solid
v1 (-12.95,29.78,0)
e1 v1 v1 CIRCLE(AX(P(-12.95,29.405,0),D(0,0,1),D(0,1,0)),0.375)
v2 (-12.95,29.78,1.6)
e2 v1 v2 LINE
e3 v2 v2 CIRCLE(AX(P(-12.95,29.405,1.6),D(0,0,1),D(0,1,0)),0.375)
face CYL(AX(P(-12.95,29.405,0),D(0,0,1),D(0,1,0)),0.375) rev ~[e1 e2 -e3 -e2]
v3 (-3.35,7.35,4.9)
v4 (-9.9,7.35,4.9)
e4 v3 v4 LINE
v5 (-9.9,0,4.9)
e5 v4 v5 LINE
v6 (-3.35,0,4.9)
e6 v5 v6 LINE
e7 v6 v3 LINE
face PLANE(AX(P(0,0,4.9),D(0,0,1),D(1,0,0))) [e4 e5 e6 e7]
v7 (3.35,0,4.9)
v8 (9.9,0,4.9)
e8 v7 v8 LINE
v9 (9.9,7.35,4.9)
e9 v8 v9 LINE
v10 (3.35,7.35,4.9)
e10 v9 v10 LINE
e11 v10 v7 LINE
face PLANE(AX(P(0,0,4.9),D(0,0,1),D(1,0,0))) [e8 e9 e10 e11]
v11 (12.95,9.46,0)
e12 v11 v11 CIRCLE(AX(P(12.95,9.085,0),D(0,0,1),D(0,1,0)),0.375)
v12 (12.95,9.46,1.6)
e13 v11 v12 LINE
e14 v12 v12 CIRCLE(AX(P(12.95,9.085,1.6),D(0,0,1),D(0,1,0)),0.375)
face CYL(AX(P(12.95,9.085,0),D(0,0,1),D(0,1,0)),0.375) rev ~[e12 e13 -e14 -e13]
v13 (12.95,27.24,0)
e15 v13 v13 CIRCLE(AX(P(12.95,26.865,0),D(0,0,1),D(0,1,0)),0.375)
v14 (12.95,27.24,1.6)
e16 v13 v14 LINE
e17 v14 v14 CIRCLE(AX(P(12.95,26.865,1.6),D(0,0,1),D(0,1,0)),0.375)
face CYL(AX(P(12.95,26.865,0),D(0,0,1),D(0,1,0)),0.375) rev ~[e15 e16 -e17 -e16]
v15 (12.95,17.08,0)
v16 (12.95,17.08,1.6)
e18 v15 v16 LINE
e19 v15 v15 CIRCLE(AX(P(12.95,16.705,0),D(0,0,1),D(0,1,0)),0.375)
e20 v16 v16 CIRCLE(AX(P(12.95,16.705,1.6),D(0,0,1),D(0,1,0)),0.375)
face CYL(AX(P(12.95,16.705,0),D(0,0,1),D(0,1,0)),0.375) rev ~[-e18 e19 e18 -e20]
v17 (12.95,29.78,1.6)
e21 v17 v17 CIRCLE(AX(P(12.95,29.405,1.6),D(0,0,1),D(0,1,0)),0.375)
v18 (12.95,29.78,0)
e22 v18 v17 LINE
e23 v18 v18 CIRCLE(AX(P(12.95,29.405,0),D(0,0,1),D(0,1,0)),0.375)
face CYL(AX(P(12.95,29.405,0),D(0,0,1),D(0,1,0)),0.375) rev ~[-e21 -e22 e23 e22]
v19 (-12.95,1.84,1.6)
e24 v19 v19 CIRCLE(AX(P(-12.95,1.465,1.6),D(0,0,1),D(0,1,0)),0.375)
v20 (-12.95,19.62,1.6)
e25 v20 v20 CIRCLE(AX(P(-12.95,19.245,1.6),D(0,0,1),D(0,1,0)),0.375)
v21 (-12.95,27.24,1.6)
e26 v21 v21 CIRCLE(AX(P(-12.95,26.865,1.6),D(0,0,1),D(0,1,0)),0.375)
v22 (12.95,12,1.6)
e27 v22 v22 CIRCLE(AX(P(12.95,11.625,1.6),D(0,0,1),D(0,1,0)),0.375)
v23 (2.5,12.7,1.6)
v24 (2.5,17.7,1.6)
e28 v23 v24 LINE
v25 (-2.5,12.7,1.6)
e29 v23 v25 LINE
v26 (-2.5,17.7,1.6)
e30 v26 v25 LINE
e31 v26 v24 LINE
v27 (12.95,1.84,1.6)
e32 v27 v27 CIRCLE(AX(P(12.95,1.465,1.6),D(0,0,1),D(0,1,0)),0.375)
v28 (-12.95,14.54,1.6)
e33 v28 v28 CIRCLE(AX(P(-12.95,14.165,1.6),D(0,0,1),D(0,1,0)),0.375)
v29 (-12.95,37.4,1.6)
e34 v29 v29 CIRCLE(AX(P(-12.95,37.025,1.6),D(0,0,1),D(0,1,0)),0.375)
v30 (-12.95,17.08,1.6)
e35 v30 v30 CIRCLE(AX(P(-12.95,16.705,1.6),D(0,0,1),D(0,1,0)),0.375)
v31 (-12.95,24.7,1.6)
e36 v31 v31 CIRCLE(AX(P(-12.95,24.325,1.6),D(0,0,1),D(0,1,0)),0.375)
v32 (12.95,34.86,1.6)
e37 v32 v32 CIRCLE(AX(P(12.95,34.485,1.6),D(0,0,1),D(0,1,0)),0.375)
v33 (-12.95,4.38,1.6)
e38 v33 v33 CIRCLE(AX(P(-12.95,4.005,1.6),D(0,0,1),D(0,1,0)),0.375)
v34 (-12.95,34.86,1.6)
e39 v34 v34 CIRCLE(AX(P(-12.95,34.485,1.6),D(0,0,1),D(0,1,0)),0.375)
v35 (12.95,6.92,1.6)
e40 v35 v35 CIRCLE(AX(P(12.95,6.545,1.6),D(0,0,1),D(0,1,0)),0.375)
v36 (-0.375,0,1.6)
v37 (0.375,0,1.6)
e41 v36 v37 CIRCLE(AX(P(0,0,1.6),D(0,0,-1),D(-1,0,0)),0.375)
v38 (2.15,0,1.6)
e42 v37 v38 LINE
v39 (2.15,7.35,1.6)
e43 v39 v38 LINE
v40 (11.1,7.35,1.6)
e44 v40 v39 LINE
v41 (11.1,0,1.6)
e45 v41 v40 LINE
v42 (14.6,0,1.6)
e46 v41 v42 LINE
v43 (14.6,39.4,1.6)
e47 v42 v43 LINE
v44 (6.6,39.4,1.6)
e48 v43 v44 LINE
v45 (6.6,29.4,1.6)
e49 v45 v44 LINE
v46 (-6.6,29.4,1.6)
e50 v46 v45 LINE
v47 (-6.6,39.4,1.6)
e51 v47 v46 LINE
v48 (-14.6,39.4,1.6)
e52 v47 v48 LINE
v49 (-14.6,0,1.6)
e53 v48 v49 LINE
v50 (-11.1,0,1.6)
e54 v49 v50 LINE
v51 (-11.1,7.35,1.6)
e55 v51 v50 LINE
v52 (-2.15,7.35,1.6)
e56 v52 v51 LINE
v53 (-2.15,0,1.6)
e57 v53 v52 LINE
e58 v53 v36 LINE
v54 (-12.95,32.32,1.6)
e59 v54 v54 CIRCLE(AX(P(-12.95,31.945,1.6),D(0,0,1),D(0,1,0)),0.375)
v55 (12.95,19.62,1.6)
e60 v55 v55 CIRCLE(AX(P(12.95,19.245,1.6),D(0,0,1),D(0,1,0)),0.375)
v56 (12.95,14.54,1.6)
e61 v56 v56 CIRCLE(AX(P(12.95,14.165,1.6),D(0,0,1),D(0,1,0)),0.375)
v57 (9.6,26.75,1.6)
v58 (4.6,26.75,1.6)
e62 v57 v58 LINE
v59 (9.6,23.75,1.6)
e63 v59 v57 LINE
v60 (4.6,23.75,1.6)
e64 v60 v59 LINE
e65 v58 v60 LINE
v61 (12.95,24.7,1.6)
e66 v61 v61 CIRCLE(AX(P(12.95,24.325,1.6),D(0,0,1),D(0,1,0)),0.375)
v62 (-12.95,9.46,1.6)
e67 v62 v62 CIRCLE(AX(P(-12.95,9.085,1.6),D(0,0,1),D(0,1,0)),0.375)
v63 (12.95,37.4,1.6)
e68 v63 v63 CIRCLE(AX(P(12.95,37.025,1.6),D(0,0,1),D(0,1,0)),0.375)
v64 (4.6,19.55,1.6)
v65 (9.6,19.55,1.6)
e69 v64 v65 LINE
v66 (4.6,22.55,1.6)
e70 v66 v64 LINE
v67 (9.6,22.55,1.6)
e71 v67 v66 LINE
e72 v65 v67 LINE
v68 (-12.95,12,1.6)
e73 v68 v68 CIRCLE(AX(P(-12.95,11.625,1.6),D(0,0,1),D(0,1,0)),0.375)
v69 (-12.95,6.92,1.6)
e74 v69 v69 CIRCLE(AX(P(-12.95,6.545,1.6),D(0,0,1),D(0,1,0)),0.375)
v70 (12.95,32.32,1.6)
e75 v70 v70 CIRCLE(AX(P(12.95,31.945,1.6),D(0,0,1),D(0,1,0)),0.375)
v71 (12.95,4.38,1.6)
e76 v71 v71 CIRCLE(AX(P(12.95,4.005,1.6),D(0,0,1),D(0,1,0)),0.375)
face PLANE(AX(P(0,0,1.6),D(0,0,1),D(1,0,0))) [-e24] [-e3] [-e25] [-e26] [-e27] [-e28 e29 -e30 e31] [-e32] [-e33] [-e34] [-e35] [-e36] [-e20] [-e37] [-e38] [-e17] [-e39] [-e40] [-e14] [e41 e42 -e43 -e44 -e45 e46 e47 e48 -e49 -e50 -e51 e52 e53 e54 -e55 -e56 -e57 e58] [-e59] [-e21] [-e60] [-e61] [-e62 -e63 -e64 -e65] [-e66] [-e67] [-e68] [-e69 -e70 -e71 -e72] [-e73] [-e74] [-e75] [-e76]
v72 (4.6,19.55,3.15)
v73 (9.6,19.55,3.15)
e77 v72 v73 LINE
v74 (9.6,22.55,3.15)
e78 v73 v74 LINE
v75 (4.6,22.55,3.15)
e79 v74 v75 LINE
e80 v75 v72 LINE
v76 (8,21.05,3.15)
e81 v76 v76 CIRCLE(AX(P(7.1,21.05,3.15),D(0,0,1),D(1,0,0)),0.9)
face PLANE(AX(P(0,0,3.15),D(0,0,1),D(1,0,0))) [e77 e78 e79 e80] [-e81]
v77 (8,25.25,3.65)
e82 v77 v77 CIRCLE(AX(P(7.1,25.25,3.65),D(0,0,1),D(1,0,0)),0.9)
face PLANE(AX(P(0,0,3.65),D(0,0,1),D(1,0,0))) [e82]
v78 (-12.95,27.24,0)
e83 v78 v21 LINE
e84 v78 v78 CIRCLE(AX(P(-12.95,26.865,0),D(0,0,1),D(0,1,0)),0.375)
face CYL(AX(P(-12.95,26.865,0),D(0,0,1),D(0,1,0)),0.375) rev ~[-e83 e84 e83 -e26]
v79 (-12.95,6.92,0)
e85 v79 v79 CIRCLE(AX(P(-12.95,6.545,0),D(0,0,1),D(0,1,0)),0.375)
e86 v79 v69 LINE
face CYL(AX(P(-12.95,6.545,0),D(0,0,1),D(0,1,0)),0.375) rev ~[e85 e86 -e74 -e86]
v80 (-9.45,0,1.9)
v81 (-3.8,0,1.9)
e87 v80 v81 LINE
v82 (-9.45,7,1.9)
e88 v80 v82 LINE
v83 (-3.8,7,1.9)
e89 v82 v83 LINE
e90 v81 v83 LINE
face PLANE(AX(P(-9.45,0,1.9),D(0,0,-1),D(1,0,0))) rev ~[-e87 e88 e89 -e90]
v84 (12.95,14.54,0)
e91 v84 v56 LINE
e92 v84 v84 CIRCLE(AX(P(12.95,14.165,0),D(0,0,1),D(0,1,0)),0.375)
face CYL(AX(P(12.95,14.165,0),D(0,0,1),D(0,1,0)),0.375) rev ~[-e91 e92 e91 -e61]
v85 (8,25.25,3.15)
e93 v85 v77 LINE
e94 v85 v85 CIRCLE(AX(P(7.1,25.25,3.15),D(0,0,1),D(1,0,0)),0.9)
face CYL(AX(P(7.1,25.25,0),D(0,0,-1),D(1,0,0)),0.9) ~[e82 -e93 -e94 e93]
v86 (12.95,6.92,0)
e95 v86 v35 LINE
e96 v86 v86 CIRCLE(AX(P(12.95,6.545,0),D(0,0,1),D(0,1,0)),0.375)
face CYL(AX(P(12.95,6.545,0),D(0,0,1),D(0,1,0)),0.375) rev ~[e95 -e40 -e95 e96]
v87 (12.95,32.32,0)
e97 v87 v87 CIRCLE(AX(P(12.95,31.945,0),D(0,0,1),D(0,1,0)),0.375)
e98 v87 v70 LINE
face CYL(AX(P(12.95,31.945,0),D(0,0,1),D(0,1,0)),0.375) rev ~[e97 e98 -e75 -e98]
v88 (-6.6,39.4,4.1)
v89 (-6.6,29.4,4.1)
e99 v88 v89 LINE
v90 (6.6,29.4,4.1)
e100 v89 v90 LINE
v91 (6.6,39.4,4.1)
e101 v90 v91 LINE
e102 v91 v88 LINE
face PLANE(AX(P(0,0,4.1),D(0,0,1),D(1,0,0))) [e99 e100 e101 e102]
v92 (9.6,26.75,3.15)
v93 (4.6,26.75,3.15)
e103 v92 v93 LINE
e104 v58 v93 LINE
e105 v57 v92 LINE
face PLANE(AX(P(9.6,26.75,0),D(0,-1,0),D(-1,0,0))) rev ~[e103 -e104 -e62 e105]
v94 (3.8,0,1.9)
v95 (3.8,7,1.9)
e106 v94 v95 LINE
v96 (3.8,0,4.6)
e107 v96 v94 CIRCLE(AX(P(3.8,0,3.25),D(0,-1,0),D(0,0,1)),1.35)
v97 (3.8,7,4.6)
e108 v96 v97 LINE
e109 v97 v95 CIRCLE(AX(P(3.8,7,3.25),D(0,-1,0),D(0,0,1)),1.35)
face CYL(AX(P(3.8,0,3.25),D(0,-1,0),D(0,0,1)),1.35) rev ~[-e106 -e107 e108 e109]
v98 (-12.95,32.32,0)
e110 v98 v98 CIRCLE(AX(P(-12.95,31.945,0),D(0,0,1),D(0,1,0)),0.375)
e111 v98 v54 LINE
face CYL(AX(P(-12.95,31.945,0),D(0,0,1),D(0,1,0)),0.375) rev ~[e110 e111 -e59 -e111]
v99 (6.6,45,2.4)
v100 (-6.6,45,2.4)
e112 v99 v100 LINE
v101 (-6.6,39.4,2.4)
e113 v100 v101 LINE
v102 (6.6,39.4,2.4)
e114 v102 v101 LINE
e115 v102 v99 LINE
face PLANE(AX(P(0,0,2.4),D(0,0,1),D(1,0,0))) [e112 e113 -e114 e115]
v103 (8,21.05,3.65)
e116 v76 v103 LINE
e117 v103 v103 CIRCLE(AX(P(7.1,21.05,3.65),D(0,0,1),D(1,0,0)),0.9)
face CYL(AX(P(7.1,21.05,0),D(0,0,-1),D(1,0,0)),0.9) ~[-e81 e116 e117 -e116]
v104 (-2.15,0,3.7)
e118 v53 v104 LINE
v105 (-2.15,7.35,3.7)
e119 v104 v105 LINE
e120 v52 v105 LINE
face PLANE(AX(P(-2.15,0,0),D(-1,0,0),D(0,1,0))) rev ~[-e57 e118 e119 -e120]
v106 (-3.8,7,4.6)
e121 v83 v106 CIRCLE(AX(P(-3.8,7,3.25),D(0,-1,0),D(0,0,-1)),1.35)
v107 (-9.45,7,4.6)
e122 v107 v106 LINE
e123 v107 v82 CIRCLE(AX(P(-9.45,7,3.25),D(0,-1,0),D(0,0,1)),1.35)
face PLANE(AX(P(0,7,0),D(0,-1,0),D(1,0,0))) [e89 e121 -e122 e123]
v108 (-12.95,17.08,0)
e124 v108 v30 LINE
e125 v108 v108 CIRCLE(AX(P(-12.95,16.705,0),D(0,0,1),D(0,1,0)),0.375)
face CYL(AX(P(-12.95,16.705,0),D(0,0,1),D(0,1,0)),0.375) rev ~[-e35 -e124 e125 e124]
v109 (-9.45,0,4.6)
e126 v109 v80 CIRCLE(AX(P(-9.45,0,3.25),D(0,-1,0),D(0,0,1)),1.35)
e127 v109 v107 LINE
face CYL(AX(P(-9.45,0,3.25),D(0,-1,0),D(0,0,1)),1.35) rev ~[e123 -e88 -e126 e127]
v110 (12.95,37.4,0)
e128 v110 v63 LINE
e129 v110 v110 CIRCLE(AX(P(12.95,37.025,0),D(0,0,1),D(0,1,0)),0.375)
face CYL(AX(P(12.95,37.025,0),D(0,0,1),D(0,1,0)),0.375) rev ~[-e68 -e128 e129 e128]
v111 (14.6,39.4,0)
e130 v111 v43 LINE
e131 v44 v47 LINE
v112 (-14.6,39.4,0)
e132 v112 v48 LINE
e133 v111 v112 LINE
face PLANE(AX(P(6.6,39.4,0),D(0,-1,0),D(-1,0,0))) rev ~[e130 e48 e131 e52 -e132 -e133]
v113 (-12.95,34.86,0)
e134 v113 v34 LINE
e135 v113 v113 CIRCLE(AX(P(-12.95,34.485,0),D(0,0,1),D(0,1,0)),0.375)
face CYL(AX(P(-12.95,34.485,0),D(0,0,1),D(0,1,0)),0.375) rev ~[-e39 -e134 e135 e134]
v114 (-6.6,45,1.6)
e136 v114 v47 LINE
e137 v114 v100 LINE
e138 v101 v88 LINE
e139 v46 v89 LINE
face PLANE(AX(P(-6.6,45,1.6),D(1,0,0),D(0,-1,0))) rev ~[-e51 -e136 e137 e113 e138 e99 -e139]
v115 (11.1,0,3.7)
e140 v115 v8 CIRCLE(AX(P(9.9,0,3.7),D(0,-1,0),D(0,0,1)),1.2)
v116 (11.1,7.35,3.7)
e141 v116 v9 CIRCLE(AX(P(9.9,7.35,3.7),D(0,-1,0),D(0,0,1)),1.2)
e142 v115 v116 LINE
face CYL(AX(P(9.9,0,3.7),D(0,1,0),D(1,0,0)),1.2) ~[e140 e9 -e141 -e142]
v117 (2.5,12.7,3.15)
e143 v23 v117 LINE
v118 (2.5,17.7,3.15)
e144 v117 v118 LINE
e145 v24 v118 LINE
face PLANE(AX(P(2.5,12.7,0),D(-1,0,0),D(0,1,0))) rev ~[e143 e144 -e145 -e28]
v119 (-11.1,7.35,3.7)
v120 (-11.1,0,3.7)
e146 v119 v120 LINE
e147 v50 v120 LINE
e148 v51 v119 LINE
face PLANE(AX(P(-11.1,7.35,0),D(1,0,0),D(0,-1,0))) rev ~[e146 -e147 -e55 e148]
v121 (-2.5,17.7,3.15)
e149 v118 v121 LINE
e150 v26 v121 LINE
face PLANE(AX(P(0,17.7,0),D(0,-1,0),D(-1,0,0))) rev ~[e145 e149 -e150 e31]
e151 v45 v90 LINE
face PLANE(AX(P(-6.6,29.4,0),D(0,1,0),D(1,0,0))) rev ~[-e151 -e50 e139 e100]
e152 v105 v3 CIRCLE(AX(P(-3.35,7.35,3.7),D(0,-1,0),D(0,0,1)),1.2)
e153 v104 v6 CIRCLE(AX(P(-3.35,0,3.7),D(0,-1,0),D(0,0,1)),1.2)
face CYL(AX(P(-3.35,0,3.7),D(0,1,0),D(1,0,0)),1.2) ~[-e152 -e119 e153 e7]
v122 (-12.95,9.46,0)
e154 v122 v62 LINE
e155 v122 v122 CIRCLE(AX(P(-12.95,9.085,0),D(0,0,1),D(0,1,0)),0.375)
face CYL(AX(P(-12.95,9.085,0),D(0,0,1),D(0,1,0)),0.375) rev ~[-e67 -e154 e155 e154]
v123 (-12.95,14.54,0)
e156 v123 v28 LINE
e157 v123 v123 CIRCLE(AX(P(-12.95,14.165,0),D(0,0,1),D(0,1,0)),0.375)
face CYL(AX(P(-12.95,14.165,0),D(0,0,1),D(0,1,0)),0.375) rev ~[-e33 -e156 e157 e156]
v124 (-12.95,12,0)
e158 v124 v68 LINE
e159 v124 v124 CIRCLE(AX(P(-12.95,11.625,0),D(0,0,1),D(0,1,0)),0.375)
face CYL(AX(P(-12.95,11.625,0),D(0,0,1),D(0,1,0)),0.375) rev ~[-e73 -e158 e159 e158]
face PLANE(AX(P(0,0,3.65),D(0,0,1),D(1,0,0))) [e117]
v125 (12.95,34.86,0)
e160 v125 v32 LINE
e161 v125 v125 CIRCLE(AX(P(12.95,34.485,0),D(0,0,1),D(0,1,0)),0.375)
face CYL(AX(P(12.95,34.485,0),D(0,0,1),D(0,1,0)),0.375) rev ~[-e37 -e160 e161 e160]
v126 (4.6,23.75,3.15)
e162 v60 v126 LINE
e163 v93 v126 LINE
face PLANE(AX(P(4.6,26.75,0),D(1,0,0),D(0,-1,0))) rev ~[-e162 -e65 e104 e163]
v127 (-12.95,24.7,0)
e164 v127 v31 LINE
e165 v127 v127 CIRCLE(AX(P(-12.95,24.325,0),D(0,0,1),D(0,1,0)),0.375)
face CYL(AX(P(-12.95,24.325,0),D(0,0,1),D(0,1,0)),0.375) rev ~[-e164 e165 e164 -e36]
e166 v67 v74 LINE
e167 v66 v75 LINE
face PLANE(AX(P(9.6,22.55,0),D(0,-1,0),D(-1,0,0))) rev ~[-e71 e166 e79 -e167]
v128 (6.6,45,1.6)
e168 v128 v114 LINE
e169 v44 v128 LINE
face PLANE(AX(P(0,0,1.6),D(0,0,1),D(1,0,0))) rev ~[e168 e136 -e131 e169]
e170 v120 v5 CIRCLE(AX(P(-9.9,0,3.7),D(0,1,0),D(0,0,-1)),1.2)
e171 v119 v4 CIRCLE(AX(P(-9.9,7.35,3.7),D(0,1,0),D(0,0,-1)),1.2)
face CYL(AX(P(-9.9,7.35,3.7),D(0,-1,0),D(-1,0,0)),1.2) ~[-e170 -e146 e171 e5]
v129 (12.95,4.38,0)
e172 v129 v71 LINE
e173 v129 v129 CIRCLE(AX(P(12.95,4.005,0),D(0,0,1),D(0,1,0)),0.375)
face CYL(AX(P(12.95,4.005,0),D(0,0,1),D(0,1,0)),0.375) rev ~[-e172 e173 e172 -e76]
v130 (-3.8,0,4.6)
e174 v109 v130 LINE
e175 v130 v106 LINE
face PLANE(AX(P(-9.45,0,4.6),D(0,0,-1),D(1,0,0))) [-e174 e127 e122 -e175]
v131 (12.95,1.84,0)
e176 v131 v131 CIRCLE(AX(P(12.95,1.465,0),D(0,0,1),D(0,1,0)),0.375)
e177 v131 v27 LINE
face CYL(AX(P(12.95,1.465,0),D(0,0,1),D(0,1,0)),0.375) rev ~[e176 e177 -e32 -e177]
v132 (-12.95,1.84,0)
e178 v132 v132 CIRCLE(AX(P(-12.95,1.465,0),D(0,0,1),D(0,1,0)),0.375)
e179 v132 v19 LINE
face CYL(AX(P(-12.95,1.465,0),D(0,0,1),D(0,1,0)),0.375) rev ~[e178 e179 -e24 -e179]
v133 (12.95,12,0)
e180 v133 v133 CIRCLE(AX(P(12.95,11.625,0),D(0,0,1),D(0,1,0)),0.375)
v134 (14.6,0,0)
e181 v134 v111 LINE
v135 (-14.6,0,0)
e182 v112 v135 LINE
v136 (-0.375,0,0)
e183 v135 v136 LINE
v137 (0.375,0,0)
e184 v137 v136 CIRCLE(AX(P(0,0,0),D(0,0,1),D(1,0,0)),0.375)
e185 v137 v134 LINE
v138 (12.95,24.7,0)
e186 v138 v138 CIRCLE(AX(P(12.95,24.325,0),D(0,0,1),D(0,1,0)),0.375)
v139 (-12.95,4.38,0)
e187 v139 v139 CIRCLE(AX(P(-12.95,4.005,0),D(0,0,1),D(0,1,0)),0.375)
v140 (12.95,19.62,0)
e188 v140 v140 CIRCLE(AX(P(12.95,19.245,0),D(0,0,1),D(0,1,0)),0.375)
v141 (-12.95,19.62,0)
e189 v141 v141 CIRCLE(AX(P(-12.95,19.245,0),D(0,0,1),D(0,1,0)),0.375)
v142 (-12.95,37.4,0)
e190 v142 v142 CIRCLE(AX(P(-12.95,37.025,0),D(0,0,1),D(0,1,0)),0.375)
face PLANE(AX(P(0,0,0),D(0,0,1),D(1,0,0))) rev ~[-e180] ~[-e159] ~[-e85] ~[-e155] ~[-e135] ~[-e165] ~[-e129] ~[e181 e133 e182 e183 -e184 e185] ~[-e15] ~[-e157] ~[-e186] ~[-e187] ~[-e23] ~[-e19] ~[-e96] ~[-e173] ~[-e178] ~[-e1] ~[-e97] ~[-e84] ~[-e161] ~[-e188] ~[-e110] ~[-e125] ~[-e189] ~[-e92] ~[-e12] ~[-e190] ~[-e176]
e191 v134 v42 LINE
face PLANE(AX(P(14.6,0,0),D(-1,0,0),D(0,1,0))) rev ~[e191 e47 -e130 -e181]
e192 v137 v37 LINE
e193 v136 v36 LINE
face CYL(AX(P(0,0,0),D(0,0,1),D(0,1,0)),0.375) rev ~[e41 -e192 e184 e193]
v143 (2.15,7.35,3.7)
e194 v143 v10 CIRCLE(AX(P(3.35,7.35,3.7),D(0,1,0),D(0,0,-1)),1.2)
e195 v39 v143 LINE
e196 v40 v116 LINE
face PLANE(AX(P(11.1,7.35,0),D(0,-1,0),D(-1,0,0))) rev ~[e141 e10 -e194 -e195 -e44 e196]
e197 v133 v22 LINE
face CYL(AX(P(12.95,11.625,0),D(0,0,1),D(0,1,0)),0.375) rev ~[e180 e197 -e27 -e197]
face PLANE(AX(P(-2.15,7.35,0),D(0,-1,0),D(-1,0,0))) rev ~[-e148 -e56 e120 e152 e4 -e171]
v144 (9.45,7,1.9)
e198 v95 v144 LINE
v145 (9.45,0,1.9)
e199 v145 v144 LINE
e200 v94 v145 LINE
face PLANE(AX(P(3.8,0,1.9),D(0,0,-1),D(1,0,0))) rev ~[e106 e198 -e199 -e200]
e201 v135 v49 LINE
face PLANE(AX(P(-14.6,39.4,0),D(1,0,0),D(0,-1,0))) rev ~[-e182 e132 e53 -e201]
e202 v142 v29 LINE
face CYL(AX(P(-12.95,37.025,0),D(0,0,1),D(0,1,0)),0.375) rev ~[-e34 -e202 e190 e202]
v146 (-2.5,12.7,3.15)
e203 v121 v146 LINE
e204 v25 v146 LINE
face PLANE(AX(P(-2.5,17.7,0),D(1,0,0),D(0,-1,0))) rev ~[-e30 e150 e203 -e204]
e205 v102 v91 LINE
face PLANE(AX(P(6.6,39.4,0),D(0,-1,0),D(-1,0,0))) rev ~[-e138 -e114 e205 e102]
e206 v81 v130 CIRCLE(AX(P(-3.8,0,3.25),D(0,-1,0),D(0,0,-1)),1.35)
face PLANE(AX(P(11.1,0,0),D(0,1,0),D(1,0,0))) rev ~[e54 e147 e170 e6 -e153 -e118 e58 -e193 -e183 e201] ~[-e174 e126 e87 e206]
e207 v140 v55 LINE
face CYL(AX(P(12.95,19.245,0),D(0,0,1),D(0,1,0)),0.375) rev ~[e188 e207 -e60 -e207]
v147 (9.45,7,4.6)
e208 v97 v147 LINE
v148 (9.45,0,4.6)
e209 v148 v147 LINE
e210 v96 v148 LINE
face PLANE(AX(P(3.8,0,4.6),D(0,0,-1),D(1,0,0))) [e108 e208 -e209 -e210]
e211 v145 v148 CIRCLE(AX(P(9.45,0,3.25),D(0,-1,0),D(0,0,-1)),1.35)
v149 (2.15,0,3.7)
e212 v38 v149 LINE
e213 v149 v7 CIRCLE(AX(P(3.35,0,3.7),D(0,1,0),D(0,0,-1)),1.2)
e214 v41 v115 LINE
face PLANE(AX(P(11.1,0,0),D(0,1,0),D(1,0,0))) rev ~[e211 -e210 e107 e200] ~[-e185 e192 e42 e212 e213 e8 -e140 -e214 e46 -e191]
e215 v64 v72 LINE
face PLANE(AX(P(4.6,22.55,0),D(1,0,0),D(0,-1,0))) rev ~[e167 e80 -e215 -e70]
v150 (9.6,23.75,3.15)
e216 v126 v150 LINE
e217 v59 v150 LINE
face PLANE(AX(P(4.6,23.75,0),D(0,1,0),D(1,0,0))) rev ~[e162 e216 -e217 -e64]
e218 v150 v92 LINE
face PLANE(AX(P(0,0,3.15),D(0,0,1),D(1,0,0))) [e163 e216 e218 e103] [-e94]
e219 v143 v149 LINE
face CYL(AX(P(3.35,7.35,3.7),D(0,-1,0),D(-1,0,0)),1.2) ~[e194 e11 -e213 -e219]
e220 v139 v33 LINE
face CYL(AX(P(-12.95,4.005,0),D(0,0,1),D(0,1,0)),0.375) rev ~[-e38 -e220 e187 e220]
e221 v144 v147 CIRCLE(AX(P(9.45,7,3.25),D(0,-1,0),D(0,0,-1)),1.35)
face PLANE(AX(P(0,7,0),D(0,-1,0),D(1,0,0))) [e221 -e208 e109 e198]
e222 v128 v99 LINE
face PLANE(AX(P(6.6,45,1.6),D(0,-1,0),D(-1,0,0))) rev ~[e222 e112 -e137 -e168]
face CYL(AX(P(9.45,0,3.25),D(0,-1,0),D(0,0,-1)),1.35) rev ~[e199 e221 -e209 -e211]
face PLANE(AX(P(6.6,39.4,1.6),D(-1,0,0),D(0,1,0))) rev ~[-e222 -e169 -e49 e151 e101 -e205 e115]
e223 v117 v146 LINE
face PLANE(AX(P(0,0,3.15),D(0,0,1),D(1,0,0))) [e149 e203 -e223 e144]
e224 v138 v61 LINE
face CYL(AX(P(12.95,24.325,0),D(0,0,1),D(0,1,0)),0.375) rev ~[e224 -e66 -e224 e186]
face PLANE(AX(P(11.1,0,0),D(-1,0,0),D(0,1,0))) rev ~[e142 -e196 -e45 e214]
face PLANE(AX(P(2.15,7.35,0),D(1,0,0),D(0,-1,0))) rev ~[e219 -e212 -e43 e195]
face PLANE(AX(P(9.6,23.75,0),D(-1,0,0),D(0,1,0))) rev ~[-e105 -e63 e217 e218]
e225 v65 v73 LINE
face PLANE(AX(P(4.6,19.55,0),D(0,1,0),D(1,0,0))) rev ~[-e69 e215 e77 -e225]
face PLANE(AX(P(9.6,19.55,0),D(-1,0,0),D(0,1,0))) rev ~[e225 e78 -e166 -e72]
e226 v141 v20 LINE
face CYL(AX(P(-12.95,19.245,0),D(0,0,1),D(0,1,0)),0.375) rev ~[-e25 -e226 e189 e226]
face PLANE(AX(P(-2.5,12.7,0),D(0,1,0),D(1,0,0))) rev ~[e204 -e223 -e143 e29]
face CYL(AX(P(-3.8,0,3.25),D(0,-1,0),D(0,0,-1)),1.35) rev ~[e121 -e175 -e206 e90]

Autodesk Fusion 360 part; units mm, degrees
sketch "Sketch1" plane through (0, 0, 0) normal (0, 0, 1) x (1, 0, 0) in component "esp32-c3-devkitm-1"
  line L0 (14.6, 39.4) -> (-14.6, 39.4)
  line L1 (-14.6, 39.4) -> (-14.6, 0)
  line L2 (-14.6, 0) -> (14.6, 0)
  line L3 (14.6, 0) -> (14.6, 39.4)
  line L4 (14.6, 39.4) -> (-14.6, 0) construction
  line L5 (-14.6, 39.4) -> (14.6, 0) construction
  line L6 (0, 1.75) -> (0, 22.5)
  line L7 (1.75, 0) -> (22.5, 0)
  line L8 (6.6, 39.4) -> (-6.6, 39.4)
  line L9 (-6.6, 39.4) -> (-6.6, 29.4)
  line L10 (-6.6, 29.4) -> (6.6, 29.4)
  line L11 (6.6, 29.4) -> (6.6, 39.4)
  line L12 (6.6, 39.4) -> (-6.6, 29.4) construction
  line L13 (-6.6, 39.4) -> (6.6, 29.4) construction
  line L14 (6.6, 45) -> (-6.6, 45)
  line L15 (-6.6, 45) -> (-6.6, 39.4)
  line L16 (-6.6, 39.4) -> (6.6, 39.4)
  line L17 (6.6, 39.4) -> (6.6, 45)
  line L18 (6.6, 45) -> (-6.6, 39.4) construction
  line L19 (-6.6, 45) -> (6.6, 39.4) construction
  line L20 (-2.15, 7.35) -> (-11.1, 7.35)
  line L21 (-11.1, 7.35) -> (-11.1, 0)
  line L22 (-11.1, 0) -> (-2.15, 0)
  line L23 (-2.15, 0) -> (-2.15, 7.35)
  line L24 (-2.15, 7.35) -> (-11.1, 0) construction
  line L25 (-11.1, 7.35) -> (-2.15, 0) construction
  line L26 (11.1, 7.35) -> (2.15, 7.35)
  line L27 (2.15, 7.35) -> (2.15, 0)
  line L28 (2.15, 0) -> (11.1, 0)
  line L29 (11.1, 0) -> (11.1, 7.35)
  line L30 (11.1, 7.35) -> (2.15, 0) construction
  line L31 (2.15, 7.35) -> (11.1, 0) construction
  line L32 (2.5, 17.7) -> (-2.5, 17.7)
  line L33 (-2.5, 17.7) -> (-2.5, 12.7)
  line L34 (-2.5, 12.7) -> (2.5, 12.7)
  line L35 (2.5, 12.7) -> (2.5, 17.7)
  line L36 (2.5, 17.7) -> (-2.5, 12.7) construction
  line L37 (-2.5, 17.7) -> (2.5, 12.7) construction
  line L38 (9.6, 26.75) -> (4.6, 26.75)
  line L39 (4.6, 26.75) -> (4.6, 23.75)
  line L40 (4.6, 23.75) -> (9.6, 23.75)
  line L41 (9.6, 23.75) -> (9.6, 26.75)
  line L42 (9.6, 26.75) -> (4.6, 23.75) construction
  line L43 (4.6, 26.75) -> (9.6, 23.75) construction
  line L44 (9.6, 22.55) -> (4.6, 22.55)
  line L45 (4.6, 22.55) -> (4.6, 19.55)
  line L46 (4.6, 19.55) -> (9.6, 19.55)
  line L47 (9.6, 19.55) -> (9.6, 22.55)
  line L48 (9.6, 22.55) -> (4.6, 19.55) construction
  line L49 (4.6, 22.55) -> (9.6, 19.55) construction
  circle A0 centre (7.1, 25.25) radius 0.9
  circle A1 centre (7.1, 21.05) radius 0.9
  circle A2 centre (12.95, 37.025) radius 0.5
  circle A3 centre (-12.95, 37.025) radius 0.5
  circle A4 centre (12.95, 34.485) radius 0.5
  circle A5 centre (-12.95, 34.485) radius 0.5
  circle A6 centre (12.95, 31.945) radius 0.5
  circle A7 centre (-12.95, 31.945) radius 0.5
  circle A8 centre (12.95, 29.405) radius 0.5
  circle A9 centre (-12.95, 29.405) radius 0.5
  circle A10 centre (12.95, 26.865) radius 0.5
  circle A11 centre (-12.95, 26.865) radius 0.5
  circle A12 centre (12.95, 24.325) radius 0.5
  circle A13 centre (-12.95, 24.325) radius 0.5
  circle A14 centre (12.95, 21.785) radius 0.5
  circle A15 centre (-12.95, 21.785) radius 0.5
  circle A16 centre (12.95, 19.245) radius 0.5
  circle A17 centre (-12.95, 19.245) radius 0.5
  circle A18 centre (12.95, 16.705) radius 0.5
  circle A19 centre (-12.95, 16.705) radius 0.5
  circle A20 centre (12.95, 14.165) radius 0.5
  circle A21 centre (-12.95, 14.165) radius 0.5
  circle A22 centre (12.95, 11.625) radius 0.5
  circle A23 centre (-12.95, 11.625) radius 0.5
  circle A24 centre (12.95, 9.085) radius 0.5
  circle A25 centre (-12.95, 9.085) radius 0.5
  circle A26 centre (12.95, 6.545) radius 0.5
  circle A27 centre (-12.95, 6.545) radius 0.5
  circle A28 centre (12.95, 4.005) radius 0.5
  circle A29 centre (-12.95, 4.005) radius 0.5
  circle A30 centre (12.95, 1.465) radius 0.5
  circle A31 centre (-12.95, 1.465) radius 0.5
  point P0 (0, 19.7)
  point P1 (0, 34.4)
  point P2 (0, 42.2)
  point P3 (-6.625, 3.675)
  point P4 (6.625, 3.675)
  point P5 (0, 15.2)
  point P6 (7.1, 25.25)
  point P7 (7.1, 21.05)
  dimension "d22" = 29.2
  dimension "d23" = 39.4
  dimension "d24" = 13.2
  dimension "d25" = 10
  dimension "d26" = 13.2
  dimension "d27" = 5.6
  dimension "d28" = 8.95
  dimension "d29" = 7.35
  dimension "d31" = 3.5
  dimension "d32" = 8.95
  dimension "d33" = 7.35
  dimension "d34" = 3.5
  dimension "d35" = 5
  dimension "d36" = 5
  dimension "d37" = 17.7
  dimension "d41" = 5
  dimension "d42" = 3
  dimension "d43" = 10
  dimension "d44" = 12.65
  dimension "d45" = 5
  dimension "d46" = 3
  dimension "d47" = 1.2
  dimension "d48" = 1.8
  dimension "d49" = 1.8
  dimension "d95" = 2.375
  dimension "d96" = 1.65
  dimension "d99" = -25.9
  dimension "d105" = 1
extrude "Extrude1" add sketch "Sketch1" along normal blind 1.6 contours L0 L1 L2 L3 L7 L9 L10 L11 L20 L21 L23 L26 L27 L29 | A2 | A3 | A4 | A5 | A6 | A7 | A8 | A9 | A10 | A11 | A12 | A13 | A14 | A15 | A16 | A17 | A18 | A19 | A20 | A21 | A22 | A23 | A24 | A25 | A26 | A27 | A28 | A29 | A30 | A31 in component "esp32-c3-devkitm-1"
extrude "Extrude2" add sketch "Sketch1" along normal blind 4.9 contours L2 L7 L26 L27 L28 L29 | L2 L20 L21 L22 L23 in component "esp32-c3-devkitm-1"
extrude "Extrude3" add sketch "Sketch1" along normal blind 4.1 contours L0 L8 L9 L10 L11 L16 in component "esp32-c3-devkitm-1"
extrude "Extrude4" add sketch "Sketch1" along normal blind 3.15 contours L6 L32 L33 L34 | L6 L32 L34 L35 in component "esp32-c3-devkitm-1"
extrude "Extrude5" add sketch "Sketch1" along normal blind 3.15 contours L38 L39 L40 L41 | L44 L45 L46 L47 in component "esp32-c3-devkitm-1"
extrude "Extrude6" add sketch "Sketch1" along normal blind 3.65 contours A0 | A1 in component "esp32-c3-devkitm-1"
extrude "Extrude7" add sketch "Sketch1" along normal blind 0.8 from surface at 1.6 contours L0 L8 L14 L15 L16 L17 in component "esp32-c3-devkitm-1"
fillet "Fillet1" radius 1.2 4 edges at (-11.1, 3.675, 4.9) (-2.15, 3.675, 4.9) (2.15, 3.675, 4.9) (11.1, 3.675, 4.9) in component "esp32-c3-devkitm-1"
sketch "Sketch2" plane through (0, 0, 0) normal (0, -1, 0) x (1, 0, 0) in component "esp32-c3-devkitm-1"
  arc A0 (11.1, 3.7) -> (9.9, 4.9) centre (9.9, 3.7) ccw
  line L0 (9.9, 4.9) -> (3.35, 4.9)
  arc A1 (3.35, 4.9) -> (2.15, 3.7) centre (3.35, 3.7) ccw
  line L1 (2.15, 3.7) -> (2.15, 1.6)
  line L2 (2.15, 1.6) -> (-2.15, 1.6)
  line L3 (-2.15, 1.6) -> (-2.15, 3.7)
  arc A2 (-2.15, 3.7) -> (-3.35, 4.9) centre (-3.35, 3.7) ccw
  line L4 (-3.35, 4.9) -> (-9.9, 4.9)
  arc A3 (-9.9, 4.9) -> (-11.1, 3.7) centre (-9.9, 3.7) ccw
  line L5 (-11.1, 3.7) -> (-11.1, 1.6)
  line L6 (-11.1, 1.6) -> (-14.6, 1.6)
  line L7 (-14.6, 1.6) -> (-14.6, 0)
  line L8 (-14.6, 0) -> (14.6, 0)
  line L9 (14.6, 0) -> (14.6, 1.6)
  line L10 (14.6, 1.6) -> (11.1, 1.6)
  line L11 (11.1, 1.6) -> (11.1, 3.7)
  line L12 (-9.45, 4.6) -> (-3.8, 4.6)
  line L13 (-9.45, 1.9) -> (-3.8, 1.9)
  arc A4 (-9.45, 4.6) -> (-9.45, 1.9) centre (-9.45, 3.25) ccw
  arc A5 (-3.8, 1.9) -> (-3.8, 4.6) centre (-3.8, 3.25) ccw
  arc A6 (9.45, 1.9) -> (9.45, 4.6) centre (9.45, 3.25) ccw
  line L14 (3.8, 1.9) -> (9.45, 1.9)
  arc A7 (3.8, 4.6) -> (3.8, 1.9) centre (3.8, 3.25) ccw
  line L15 (3.8, 4.6) -> (9.45, 4.6)
  dimension "d80" = 0.3
  dimension "d81" = 1.65
  dimension "d83" = 0.3
  dimension "d86" = 0.3
  dimension "d87" = 1.65
  dimension "d88" = 1.65
  dimension "d89" = 1.65
  dimension "d90" = 1.65
  dimension "d91" = 0.3
  dimension "d92" = 1.65
  dimension "d93" = 1.65
  dimension "d94" = 1.65
extrude "Extrude8" cut sketch "Sketch2" against normal blind 7 contours L12 L13 A4 A5 | A6 L14 A7 L15 in component "esp32-c3-devkitm-1"
hole "Hole2" at (12.95, 37.025, 0) at (12.95, 34.485, 0) at (12.95, 31.945, 0) at (12.95, 29.405, 0) at (12.95, 26.865, 0) at (12.95, 24.325, 0) at (0, 0, 0) at (12.95, 19.245, 0) at (12.95, 16.705, 0) at (12.95, 14.165, 0) at (12.95, 11.625, 0) at (12.95, 9.085, 0) at (12.95, 6.545, 0) at (12.95, 4.005, 0) at (12.95, 1.465, 0) at (-12.95, 1.465, 0) at (-12.95, 4.005, 0) at (-12.95, 6.545, 0) at (-12.95, 9.085, 0) at (-12.95, 11.625, 0) at (-12.95, 14.165, 0) at (-12.95, 16.705, 0) at (-12.95, 19.245, 0) at (0, 0, 0) at (-12.95, 24.325, 0) at (-12.95, 26.865, 0) at (-12.95, 29.405, 0) at (-12.95, 31.945, 0) at (-12.95, 34.485, 0) at (-12.95, 37.025, 0) direction (0, 0, 1) diameter 0.75 depth 11 tip angle 118 in component "esp32-c3-devkitm-1"
component "esp32-c3-devkitm-1" placed x (1, 0, 0) y (0, 1, 0) z (0, 0, 1) at (0, 0, 0)
equation "pcb_thickness = 1.6 mm"
equation "module_height = 2.5 mm"
equation "usb_height = 3.3 mm"
equation "button_modue_height = 1.55 mm"
equation "button_height = 0.5 mm"
equation "button_diameter = 1.8 mm"
equation "led_height = 1.55 mm"
equation "led_width_length = 5 mm"
equation "usb_width = 8.95 mm"
equation "usb_length = 7.35 mm"
equation "board_length = 39.4 mm"
equation "board_width = 29.2 mm"
equation "overall_length = 45 mm"
equation "module_width = 13.2 mm"
equation "module_length = 10 mm"
equation "button_module_width = 3 mm"
equation "button_module_length = 5 mm"
equation "pin_spacing = 2.54 mm"
equation "d22 = board_width"
equation "d23 = board_length"
equation "d24 = module_width"
equation "d25 = module_length"
equation "d26 = module_width"
equation "d27 = overall_length - board_length"
equation "d28 = usb_width"
equation "d29 = usb_length"
equation "d32 = usb_width"
equation "d33 = usb_length"
equation "d35 = led_width_length"
equation "d36 = led_width_length"
equation "d41 = button_module_length"
equation "d42 = button_module_width"
equation "d44 = 15.65 mm - button_module_width"
equation "d45 = button_module_length"
equation "d46 = button_module_width"
equation "d48 = button_diameter"
equation "d49 = button_diameter"
equation "d50 = pcb_thickness"
equation "d52 = pcb_thickness + usb_height"
equation "d54 = pcb_thickness + module_height"
equation "d56 = pcb_thickness + led_height"
equation "d58 = pcb_thickness + button_modue_height"
equation "d60 = pcb_thickness + button_modue_height + button_height"
equation "d62 = pcb_thickness"
equation "d99 = -( board_width - 1.65 mm - 1.65 mm )"
equation "pin_diameter = 1 mm"
equation "d105 = pin_diameter"
equation "tolerance_loose = 0.508 mm"
equation "tolerance_tight = 0.127 mm"
equation "tolerance_normal = 0.254 mm"
equation "sma_base_plate_widthy = 6.55 mm"
equation "antenna_board_thickness = 3.225 mm"
equation "sma_base_plate_thickness = 1.65 mm"
equation "antenna_header_width_offset = 5.25 mm"
equation "antenna_header_length_offset = 1.3 mm"
equation "sma_base_plate_vertical_offset = 1 mm"
equation "antenna_board_length_Copy = 33.3 mm"
equation "antenna_board_width = 18 mm"
equation "sma_width_offset = 9 mm"
equation "sma_diameter = 6.26 mm"
equation "antenna_sma_wall_thickness = 3.15 mm"
